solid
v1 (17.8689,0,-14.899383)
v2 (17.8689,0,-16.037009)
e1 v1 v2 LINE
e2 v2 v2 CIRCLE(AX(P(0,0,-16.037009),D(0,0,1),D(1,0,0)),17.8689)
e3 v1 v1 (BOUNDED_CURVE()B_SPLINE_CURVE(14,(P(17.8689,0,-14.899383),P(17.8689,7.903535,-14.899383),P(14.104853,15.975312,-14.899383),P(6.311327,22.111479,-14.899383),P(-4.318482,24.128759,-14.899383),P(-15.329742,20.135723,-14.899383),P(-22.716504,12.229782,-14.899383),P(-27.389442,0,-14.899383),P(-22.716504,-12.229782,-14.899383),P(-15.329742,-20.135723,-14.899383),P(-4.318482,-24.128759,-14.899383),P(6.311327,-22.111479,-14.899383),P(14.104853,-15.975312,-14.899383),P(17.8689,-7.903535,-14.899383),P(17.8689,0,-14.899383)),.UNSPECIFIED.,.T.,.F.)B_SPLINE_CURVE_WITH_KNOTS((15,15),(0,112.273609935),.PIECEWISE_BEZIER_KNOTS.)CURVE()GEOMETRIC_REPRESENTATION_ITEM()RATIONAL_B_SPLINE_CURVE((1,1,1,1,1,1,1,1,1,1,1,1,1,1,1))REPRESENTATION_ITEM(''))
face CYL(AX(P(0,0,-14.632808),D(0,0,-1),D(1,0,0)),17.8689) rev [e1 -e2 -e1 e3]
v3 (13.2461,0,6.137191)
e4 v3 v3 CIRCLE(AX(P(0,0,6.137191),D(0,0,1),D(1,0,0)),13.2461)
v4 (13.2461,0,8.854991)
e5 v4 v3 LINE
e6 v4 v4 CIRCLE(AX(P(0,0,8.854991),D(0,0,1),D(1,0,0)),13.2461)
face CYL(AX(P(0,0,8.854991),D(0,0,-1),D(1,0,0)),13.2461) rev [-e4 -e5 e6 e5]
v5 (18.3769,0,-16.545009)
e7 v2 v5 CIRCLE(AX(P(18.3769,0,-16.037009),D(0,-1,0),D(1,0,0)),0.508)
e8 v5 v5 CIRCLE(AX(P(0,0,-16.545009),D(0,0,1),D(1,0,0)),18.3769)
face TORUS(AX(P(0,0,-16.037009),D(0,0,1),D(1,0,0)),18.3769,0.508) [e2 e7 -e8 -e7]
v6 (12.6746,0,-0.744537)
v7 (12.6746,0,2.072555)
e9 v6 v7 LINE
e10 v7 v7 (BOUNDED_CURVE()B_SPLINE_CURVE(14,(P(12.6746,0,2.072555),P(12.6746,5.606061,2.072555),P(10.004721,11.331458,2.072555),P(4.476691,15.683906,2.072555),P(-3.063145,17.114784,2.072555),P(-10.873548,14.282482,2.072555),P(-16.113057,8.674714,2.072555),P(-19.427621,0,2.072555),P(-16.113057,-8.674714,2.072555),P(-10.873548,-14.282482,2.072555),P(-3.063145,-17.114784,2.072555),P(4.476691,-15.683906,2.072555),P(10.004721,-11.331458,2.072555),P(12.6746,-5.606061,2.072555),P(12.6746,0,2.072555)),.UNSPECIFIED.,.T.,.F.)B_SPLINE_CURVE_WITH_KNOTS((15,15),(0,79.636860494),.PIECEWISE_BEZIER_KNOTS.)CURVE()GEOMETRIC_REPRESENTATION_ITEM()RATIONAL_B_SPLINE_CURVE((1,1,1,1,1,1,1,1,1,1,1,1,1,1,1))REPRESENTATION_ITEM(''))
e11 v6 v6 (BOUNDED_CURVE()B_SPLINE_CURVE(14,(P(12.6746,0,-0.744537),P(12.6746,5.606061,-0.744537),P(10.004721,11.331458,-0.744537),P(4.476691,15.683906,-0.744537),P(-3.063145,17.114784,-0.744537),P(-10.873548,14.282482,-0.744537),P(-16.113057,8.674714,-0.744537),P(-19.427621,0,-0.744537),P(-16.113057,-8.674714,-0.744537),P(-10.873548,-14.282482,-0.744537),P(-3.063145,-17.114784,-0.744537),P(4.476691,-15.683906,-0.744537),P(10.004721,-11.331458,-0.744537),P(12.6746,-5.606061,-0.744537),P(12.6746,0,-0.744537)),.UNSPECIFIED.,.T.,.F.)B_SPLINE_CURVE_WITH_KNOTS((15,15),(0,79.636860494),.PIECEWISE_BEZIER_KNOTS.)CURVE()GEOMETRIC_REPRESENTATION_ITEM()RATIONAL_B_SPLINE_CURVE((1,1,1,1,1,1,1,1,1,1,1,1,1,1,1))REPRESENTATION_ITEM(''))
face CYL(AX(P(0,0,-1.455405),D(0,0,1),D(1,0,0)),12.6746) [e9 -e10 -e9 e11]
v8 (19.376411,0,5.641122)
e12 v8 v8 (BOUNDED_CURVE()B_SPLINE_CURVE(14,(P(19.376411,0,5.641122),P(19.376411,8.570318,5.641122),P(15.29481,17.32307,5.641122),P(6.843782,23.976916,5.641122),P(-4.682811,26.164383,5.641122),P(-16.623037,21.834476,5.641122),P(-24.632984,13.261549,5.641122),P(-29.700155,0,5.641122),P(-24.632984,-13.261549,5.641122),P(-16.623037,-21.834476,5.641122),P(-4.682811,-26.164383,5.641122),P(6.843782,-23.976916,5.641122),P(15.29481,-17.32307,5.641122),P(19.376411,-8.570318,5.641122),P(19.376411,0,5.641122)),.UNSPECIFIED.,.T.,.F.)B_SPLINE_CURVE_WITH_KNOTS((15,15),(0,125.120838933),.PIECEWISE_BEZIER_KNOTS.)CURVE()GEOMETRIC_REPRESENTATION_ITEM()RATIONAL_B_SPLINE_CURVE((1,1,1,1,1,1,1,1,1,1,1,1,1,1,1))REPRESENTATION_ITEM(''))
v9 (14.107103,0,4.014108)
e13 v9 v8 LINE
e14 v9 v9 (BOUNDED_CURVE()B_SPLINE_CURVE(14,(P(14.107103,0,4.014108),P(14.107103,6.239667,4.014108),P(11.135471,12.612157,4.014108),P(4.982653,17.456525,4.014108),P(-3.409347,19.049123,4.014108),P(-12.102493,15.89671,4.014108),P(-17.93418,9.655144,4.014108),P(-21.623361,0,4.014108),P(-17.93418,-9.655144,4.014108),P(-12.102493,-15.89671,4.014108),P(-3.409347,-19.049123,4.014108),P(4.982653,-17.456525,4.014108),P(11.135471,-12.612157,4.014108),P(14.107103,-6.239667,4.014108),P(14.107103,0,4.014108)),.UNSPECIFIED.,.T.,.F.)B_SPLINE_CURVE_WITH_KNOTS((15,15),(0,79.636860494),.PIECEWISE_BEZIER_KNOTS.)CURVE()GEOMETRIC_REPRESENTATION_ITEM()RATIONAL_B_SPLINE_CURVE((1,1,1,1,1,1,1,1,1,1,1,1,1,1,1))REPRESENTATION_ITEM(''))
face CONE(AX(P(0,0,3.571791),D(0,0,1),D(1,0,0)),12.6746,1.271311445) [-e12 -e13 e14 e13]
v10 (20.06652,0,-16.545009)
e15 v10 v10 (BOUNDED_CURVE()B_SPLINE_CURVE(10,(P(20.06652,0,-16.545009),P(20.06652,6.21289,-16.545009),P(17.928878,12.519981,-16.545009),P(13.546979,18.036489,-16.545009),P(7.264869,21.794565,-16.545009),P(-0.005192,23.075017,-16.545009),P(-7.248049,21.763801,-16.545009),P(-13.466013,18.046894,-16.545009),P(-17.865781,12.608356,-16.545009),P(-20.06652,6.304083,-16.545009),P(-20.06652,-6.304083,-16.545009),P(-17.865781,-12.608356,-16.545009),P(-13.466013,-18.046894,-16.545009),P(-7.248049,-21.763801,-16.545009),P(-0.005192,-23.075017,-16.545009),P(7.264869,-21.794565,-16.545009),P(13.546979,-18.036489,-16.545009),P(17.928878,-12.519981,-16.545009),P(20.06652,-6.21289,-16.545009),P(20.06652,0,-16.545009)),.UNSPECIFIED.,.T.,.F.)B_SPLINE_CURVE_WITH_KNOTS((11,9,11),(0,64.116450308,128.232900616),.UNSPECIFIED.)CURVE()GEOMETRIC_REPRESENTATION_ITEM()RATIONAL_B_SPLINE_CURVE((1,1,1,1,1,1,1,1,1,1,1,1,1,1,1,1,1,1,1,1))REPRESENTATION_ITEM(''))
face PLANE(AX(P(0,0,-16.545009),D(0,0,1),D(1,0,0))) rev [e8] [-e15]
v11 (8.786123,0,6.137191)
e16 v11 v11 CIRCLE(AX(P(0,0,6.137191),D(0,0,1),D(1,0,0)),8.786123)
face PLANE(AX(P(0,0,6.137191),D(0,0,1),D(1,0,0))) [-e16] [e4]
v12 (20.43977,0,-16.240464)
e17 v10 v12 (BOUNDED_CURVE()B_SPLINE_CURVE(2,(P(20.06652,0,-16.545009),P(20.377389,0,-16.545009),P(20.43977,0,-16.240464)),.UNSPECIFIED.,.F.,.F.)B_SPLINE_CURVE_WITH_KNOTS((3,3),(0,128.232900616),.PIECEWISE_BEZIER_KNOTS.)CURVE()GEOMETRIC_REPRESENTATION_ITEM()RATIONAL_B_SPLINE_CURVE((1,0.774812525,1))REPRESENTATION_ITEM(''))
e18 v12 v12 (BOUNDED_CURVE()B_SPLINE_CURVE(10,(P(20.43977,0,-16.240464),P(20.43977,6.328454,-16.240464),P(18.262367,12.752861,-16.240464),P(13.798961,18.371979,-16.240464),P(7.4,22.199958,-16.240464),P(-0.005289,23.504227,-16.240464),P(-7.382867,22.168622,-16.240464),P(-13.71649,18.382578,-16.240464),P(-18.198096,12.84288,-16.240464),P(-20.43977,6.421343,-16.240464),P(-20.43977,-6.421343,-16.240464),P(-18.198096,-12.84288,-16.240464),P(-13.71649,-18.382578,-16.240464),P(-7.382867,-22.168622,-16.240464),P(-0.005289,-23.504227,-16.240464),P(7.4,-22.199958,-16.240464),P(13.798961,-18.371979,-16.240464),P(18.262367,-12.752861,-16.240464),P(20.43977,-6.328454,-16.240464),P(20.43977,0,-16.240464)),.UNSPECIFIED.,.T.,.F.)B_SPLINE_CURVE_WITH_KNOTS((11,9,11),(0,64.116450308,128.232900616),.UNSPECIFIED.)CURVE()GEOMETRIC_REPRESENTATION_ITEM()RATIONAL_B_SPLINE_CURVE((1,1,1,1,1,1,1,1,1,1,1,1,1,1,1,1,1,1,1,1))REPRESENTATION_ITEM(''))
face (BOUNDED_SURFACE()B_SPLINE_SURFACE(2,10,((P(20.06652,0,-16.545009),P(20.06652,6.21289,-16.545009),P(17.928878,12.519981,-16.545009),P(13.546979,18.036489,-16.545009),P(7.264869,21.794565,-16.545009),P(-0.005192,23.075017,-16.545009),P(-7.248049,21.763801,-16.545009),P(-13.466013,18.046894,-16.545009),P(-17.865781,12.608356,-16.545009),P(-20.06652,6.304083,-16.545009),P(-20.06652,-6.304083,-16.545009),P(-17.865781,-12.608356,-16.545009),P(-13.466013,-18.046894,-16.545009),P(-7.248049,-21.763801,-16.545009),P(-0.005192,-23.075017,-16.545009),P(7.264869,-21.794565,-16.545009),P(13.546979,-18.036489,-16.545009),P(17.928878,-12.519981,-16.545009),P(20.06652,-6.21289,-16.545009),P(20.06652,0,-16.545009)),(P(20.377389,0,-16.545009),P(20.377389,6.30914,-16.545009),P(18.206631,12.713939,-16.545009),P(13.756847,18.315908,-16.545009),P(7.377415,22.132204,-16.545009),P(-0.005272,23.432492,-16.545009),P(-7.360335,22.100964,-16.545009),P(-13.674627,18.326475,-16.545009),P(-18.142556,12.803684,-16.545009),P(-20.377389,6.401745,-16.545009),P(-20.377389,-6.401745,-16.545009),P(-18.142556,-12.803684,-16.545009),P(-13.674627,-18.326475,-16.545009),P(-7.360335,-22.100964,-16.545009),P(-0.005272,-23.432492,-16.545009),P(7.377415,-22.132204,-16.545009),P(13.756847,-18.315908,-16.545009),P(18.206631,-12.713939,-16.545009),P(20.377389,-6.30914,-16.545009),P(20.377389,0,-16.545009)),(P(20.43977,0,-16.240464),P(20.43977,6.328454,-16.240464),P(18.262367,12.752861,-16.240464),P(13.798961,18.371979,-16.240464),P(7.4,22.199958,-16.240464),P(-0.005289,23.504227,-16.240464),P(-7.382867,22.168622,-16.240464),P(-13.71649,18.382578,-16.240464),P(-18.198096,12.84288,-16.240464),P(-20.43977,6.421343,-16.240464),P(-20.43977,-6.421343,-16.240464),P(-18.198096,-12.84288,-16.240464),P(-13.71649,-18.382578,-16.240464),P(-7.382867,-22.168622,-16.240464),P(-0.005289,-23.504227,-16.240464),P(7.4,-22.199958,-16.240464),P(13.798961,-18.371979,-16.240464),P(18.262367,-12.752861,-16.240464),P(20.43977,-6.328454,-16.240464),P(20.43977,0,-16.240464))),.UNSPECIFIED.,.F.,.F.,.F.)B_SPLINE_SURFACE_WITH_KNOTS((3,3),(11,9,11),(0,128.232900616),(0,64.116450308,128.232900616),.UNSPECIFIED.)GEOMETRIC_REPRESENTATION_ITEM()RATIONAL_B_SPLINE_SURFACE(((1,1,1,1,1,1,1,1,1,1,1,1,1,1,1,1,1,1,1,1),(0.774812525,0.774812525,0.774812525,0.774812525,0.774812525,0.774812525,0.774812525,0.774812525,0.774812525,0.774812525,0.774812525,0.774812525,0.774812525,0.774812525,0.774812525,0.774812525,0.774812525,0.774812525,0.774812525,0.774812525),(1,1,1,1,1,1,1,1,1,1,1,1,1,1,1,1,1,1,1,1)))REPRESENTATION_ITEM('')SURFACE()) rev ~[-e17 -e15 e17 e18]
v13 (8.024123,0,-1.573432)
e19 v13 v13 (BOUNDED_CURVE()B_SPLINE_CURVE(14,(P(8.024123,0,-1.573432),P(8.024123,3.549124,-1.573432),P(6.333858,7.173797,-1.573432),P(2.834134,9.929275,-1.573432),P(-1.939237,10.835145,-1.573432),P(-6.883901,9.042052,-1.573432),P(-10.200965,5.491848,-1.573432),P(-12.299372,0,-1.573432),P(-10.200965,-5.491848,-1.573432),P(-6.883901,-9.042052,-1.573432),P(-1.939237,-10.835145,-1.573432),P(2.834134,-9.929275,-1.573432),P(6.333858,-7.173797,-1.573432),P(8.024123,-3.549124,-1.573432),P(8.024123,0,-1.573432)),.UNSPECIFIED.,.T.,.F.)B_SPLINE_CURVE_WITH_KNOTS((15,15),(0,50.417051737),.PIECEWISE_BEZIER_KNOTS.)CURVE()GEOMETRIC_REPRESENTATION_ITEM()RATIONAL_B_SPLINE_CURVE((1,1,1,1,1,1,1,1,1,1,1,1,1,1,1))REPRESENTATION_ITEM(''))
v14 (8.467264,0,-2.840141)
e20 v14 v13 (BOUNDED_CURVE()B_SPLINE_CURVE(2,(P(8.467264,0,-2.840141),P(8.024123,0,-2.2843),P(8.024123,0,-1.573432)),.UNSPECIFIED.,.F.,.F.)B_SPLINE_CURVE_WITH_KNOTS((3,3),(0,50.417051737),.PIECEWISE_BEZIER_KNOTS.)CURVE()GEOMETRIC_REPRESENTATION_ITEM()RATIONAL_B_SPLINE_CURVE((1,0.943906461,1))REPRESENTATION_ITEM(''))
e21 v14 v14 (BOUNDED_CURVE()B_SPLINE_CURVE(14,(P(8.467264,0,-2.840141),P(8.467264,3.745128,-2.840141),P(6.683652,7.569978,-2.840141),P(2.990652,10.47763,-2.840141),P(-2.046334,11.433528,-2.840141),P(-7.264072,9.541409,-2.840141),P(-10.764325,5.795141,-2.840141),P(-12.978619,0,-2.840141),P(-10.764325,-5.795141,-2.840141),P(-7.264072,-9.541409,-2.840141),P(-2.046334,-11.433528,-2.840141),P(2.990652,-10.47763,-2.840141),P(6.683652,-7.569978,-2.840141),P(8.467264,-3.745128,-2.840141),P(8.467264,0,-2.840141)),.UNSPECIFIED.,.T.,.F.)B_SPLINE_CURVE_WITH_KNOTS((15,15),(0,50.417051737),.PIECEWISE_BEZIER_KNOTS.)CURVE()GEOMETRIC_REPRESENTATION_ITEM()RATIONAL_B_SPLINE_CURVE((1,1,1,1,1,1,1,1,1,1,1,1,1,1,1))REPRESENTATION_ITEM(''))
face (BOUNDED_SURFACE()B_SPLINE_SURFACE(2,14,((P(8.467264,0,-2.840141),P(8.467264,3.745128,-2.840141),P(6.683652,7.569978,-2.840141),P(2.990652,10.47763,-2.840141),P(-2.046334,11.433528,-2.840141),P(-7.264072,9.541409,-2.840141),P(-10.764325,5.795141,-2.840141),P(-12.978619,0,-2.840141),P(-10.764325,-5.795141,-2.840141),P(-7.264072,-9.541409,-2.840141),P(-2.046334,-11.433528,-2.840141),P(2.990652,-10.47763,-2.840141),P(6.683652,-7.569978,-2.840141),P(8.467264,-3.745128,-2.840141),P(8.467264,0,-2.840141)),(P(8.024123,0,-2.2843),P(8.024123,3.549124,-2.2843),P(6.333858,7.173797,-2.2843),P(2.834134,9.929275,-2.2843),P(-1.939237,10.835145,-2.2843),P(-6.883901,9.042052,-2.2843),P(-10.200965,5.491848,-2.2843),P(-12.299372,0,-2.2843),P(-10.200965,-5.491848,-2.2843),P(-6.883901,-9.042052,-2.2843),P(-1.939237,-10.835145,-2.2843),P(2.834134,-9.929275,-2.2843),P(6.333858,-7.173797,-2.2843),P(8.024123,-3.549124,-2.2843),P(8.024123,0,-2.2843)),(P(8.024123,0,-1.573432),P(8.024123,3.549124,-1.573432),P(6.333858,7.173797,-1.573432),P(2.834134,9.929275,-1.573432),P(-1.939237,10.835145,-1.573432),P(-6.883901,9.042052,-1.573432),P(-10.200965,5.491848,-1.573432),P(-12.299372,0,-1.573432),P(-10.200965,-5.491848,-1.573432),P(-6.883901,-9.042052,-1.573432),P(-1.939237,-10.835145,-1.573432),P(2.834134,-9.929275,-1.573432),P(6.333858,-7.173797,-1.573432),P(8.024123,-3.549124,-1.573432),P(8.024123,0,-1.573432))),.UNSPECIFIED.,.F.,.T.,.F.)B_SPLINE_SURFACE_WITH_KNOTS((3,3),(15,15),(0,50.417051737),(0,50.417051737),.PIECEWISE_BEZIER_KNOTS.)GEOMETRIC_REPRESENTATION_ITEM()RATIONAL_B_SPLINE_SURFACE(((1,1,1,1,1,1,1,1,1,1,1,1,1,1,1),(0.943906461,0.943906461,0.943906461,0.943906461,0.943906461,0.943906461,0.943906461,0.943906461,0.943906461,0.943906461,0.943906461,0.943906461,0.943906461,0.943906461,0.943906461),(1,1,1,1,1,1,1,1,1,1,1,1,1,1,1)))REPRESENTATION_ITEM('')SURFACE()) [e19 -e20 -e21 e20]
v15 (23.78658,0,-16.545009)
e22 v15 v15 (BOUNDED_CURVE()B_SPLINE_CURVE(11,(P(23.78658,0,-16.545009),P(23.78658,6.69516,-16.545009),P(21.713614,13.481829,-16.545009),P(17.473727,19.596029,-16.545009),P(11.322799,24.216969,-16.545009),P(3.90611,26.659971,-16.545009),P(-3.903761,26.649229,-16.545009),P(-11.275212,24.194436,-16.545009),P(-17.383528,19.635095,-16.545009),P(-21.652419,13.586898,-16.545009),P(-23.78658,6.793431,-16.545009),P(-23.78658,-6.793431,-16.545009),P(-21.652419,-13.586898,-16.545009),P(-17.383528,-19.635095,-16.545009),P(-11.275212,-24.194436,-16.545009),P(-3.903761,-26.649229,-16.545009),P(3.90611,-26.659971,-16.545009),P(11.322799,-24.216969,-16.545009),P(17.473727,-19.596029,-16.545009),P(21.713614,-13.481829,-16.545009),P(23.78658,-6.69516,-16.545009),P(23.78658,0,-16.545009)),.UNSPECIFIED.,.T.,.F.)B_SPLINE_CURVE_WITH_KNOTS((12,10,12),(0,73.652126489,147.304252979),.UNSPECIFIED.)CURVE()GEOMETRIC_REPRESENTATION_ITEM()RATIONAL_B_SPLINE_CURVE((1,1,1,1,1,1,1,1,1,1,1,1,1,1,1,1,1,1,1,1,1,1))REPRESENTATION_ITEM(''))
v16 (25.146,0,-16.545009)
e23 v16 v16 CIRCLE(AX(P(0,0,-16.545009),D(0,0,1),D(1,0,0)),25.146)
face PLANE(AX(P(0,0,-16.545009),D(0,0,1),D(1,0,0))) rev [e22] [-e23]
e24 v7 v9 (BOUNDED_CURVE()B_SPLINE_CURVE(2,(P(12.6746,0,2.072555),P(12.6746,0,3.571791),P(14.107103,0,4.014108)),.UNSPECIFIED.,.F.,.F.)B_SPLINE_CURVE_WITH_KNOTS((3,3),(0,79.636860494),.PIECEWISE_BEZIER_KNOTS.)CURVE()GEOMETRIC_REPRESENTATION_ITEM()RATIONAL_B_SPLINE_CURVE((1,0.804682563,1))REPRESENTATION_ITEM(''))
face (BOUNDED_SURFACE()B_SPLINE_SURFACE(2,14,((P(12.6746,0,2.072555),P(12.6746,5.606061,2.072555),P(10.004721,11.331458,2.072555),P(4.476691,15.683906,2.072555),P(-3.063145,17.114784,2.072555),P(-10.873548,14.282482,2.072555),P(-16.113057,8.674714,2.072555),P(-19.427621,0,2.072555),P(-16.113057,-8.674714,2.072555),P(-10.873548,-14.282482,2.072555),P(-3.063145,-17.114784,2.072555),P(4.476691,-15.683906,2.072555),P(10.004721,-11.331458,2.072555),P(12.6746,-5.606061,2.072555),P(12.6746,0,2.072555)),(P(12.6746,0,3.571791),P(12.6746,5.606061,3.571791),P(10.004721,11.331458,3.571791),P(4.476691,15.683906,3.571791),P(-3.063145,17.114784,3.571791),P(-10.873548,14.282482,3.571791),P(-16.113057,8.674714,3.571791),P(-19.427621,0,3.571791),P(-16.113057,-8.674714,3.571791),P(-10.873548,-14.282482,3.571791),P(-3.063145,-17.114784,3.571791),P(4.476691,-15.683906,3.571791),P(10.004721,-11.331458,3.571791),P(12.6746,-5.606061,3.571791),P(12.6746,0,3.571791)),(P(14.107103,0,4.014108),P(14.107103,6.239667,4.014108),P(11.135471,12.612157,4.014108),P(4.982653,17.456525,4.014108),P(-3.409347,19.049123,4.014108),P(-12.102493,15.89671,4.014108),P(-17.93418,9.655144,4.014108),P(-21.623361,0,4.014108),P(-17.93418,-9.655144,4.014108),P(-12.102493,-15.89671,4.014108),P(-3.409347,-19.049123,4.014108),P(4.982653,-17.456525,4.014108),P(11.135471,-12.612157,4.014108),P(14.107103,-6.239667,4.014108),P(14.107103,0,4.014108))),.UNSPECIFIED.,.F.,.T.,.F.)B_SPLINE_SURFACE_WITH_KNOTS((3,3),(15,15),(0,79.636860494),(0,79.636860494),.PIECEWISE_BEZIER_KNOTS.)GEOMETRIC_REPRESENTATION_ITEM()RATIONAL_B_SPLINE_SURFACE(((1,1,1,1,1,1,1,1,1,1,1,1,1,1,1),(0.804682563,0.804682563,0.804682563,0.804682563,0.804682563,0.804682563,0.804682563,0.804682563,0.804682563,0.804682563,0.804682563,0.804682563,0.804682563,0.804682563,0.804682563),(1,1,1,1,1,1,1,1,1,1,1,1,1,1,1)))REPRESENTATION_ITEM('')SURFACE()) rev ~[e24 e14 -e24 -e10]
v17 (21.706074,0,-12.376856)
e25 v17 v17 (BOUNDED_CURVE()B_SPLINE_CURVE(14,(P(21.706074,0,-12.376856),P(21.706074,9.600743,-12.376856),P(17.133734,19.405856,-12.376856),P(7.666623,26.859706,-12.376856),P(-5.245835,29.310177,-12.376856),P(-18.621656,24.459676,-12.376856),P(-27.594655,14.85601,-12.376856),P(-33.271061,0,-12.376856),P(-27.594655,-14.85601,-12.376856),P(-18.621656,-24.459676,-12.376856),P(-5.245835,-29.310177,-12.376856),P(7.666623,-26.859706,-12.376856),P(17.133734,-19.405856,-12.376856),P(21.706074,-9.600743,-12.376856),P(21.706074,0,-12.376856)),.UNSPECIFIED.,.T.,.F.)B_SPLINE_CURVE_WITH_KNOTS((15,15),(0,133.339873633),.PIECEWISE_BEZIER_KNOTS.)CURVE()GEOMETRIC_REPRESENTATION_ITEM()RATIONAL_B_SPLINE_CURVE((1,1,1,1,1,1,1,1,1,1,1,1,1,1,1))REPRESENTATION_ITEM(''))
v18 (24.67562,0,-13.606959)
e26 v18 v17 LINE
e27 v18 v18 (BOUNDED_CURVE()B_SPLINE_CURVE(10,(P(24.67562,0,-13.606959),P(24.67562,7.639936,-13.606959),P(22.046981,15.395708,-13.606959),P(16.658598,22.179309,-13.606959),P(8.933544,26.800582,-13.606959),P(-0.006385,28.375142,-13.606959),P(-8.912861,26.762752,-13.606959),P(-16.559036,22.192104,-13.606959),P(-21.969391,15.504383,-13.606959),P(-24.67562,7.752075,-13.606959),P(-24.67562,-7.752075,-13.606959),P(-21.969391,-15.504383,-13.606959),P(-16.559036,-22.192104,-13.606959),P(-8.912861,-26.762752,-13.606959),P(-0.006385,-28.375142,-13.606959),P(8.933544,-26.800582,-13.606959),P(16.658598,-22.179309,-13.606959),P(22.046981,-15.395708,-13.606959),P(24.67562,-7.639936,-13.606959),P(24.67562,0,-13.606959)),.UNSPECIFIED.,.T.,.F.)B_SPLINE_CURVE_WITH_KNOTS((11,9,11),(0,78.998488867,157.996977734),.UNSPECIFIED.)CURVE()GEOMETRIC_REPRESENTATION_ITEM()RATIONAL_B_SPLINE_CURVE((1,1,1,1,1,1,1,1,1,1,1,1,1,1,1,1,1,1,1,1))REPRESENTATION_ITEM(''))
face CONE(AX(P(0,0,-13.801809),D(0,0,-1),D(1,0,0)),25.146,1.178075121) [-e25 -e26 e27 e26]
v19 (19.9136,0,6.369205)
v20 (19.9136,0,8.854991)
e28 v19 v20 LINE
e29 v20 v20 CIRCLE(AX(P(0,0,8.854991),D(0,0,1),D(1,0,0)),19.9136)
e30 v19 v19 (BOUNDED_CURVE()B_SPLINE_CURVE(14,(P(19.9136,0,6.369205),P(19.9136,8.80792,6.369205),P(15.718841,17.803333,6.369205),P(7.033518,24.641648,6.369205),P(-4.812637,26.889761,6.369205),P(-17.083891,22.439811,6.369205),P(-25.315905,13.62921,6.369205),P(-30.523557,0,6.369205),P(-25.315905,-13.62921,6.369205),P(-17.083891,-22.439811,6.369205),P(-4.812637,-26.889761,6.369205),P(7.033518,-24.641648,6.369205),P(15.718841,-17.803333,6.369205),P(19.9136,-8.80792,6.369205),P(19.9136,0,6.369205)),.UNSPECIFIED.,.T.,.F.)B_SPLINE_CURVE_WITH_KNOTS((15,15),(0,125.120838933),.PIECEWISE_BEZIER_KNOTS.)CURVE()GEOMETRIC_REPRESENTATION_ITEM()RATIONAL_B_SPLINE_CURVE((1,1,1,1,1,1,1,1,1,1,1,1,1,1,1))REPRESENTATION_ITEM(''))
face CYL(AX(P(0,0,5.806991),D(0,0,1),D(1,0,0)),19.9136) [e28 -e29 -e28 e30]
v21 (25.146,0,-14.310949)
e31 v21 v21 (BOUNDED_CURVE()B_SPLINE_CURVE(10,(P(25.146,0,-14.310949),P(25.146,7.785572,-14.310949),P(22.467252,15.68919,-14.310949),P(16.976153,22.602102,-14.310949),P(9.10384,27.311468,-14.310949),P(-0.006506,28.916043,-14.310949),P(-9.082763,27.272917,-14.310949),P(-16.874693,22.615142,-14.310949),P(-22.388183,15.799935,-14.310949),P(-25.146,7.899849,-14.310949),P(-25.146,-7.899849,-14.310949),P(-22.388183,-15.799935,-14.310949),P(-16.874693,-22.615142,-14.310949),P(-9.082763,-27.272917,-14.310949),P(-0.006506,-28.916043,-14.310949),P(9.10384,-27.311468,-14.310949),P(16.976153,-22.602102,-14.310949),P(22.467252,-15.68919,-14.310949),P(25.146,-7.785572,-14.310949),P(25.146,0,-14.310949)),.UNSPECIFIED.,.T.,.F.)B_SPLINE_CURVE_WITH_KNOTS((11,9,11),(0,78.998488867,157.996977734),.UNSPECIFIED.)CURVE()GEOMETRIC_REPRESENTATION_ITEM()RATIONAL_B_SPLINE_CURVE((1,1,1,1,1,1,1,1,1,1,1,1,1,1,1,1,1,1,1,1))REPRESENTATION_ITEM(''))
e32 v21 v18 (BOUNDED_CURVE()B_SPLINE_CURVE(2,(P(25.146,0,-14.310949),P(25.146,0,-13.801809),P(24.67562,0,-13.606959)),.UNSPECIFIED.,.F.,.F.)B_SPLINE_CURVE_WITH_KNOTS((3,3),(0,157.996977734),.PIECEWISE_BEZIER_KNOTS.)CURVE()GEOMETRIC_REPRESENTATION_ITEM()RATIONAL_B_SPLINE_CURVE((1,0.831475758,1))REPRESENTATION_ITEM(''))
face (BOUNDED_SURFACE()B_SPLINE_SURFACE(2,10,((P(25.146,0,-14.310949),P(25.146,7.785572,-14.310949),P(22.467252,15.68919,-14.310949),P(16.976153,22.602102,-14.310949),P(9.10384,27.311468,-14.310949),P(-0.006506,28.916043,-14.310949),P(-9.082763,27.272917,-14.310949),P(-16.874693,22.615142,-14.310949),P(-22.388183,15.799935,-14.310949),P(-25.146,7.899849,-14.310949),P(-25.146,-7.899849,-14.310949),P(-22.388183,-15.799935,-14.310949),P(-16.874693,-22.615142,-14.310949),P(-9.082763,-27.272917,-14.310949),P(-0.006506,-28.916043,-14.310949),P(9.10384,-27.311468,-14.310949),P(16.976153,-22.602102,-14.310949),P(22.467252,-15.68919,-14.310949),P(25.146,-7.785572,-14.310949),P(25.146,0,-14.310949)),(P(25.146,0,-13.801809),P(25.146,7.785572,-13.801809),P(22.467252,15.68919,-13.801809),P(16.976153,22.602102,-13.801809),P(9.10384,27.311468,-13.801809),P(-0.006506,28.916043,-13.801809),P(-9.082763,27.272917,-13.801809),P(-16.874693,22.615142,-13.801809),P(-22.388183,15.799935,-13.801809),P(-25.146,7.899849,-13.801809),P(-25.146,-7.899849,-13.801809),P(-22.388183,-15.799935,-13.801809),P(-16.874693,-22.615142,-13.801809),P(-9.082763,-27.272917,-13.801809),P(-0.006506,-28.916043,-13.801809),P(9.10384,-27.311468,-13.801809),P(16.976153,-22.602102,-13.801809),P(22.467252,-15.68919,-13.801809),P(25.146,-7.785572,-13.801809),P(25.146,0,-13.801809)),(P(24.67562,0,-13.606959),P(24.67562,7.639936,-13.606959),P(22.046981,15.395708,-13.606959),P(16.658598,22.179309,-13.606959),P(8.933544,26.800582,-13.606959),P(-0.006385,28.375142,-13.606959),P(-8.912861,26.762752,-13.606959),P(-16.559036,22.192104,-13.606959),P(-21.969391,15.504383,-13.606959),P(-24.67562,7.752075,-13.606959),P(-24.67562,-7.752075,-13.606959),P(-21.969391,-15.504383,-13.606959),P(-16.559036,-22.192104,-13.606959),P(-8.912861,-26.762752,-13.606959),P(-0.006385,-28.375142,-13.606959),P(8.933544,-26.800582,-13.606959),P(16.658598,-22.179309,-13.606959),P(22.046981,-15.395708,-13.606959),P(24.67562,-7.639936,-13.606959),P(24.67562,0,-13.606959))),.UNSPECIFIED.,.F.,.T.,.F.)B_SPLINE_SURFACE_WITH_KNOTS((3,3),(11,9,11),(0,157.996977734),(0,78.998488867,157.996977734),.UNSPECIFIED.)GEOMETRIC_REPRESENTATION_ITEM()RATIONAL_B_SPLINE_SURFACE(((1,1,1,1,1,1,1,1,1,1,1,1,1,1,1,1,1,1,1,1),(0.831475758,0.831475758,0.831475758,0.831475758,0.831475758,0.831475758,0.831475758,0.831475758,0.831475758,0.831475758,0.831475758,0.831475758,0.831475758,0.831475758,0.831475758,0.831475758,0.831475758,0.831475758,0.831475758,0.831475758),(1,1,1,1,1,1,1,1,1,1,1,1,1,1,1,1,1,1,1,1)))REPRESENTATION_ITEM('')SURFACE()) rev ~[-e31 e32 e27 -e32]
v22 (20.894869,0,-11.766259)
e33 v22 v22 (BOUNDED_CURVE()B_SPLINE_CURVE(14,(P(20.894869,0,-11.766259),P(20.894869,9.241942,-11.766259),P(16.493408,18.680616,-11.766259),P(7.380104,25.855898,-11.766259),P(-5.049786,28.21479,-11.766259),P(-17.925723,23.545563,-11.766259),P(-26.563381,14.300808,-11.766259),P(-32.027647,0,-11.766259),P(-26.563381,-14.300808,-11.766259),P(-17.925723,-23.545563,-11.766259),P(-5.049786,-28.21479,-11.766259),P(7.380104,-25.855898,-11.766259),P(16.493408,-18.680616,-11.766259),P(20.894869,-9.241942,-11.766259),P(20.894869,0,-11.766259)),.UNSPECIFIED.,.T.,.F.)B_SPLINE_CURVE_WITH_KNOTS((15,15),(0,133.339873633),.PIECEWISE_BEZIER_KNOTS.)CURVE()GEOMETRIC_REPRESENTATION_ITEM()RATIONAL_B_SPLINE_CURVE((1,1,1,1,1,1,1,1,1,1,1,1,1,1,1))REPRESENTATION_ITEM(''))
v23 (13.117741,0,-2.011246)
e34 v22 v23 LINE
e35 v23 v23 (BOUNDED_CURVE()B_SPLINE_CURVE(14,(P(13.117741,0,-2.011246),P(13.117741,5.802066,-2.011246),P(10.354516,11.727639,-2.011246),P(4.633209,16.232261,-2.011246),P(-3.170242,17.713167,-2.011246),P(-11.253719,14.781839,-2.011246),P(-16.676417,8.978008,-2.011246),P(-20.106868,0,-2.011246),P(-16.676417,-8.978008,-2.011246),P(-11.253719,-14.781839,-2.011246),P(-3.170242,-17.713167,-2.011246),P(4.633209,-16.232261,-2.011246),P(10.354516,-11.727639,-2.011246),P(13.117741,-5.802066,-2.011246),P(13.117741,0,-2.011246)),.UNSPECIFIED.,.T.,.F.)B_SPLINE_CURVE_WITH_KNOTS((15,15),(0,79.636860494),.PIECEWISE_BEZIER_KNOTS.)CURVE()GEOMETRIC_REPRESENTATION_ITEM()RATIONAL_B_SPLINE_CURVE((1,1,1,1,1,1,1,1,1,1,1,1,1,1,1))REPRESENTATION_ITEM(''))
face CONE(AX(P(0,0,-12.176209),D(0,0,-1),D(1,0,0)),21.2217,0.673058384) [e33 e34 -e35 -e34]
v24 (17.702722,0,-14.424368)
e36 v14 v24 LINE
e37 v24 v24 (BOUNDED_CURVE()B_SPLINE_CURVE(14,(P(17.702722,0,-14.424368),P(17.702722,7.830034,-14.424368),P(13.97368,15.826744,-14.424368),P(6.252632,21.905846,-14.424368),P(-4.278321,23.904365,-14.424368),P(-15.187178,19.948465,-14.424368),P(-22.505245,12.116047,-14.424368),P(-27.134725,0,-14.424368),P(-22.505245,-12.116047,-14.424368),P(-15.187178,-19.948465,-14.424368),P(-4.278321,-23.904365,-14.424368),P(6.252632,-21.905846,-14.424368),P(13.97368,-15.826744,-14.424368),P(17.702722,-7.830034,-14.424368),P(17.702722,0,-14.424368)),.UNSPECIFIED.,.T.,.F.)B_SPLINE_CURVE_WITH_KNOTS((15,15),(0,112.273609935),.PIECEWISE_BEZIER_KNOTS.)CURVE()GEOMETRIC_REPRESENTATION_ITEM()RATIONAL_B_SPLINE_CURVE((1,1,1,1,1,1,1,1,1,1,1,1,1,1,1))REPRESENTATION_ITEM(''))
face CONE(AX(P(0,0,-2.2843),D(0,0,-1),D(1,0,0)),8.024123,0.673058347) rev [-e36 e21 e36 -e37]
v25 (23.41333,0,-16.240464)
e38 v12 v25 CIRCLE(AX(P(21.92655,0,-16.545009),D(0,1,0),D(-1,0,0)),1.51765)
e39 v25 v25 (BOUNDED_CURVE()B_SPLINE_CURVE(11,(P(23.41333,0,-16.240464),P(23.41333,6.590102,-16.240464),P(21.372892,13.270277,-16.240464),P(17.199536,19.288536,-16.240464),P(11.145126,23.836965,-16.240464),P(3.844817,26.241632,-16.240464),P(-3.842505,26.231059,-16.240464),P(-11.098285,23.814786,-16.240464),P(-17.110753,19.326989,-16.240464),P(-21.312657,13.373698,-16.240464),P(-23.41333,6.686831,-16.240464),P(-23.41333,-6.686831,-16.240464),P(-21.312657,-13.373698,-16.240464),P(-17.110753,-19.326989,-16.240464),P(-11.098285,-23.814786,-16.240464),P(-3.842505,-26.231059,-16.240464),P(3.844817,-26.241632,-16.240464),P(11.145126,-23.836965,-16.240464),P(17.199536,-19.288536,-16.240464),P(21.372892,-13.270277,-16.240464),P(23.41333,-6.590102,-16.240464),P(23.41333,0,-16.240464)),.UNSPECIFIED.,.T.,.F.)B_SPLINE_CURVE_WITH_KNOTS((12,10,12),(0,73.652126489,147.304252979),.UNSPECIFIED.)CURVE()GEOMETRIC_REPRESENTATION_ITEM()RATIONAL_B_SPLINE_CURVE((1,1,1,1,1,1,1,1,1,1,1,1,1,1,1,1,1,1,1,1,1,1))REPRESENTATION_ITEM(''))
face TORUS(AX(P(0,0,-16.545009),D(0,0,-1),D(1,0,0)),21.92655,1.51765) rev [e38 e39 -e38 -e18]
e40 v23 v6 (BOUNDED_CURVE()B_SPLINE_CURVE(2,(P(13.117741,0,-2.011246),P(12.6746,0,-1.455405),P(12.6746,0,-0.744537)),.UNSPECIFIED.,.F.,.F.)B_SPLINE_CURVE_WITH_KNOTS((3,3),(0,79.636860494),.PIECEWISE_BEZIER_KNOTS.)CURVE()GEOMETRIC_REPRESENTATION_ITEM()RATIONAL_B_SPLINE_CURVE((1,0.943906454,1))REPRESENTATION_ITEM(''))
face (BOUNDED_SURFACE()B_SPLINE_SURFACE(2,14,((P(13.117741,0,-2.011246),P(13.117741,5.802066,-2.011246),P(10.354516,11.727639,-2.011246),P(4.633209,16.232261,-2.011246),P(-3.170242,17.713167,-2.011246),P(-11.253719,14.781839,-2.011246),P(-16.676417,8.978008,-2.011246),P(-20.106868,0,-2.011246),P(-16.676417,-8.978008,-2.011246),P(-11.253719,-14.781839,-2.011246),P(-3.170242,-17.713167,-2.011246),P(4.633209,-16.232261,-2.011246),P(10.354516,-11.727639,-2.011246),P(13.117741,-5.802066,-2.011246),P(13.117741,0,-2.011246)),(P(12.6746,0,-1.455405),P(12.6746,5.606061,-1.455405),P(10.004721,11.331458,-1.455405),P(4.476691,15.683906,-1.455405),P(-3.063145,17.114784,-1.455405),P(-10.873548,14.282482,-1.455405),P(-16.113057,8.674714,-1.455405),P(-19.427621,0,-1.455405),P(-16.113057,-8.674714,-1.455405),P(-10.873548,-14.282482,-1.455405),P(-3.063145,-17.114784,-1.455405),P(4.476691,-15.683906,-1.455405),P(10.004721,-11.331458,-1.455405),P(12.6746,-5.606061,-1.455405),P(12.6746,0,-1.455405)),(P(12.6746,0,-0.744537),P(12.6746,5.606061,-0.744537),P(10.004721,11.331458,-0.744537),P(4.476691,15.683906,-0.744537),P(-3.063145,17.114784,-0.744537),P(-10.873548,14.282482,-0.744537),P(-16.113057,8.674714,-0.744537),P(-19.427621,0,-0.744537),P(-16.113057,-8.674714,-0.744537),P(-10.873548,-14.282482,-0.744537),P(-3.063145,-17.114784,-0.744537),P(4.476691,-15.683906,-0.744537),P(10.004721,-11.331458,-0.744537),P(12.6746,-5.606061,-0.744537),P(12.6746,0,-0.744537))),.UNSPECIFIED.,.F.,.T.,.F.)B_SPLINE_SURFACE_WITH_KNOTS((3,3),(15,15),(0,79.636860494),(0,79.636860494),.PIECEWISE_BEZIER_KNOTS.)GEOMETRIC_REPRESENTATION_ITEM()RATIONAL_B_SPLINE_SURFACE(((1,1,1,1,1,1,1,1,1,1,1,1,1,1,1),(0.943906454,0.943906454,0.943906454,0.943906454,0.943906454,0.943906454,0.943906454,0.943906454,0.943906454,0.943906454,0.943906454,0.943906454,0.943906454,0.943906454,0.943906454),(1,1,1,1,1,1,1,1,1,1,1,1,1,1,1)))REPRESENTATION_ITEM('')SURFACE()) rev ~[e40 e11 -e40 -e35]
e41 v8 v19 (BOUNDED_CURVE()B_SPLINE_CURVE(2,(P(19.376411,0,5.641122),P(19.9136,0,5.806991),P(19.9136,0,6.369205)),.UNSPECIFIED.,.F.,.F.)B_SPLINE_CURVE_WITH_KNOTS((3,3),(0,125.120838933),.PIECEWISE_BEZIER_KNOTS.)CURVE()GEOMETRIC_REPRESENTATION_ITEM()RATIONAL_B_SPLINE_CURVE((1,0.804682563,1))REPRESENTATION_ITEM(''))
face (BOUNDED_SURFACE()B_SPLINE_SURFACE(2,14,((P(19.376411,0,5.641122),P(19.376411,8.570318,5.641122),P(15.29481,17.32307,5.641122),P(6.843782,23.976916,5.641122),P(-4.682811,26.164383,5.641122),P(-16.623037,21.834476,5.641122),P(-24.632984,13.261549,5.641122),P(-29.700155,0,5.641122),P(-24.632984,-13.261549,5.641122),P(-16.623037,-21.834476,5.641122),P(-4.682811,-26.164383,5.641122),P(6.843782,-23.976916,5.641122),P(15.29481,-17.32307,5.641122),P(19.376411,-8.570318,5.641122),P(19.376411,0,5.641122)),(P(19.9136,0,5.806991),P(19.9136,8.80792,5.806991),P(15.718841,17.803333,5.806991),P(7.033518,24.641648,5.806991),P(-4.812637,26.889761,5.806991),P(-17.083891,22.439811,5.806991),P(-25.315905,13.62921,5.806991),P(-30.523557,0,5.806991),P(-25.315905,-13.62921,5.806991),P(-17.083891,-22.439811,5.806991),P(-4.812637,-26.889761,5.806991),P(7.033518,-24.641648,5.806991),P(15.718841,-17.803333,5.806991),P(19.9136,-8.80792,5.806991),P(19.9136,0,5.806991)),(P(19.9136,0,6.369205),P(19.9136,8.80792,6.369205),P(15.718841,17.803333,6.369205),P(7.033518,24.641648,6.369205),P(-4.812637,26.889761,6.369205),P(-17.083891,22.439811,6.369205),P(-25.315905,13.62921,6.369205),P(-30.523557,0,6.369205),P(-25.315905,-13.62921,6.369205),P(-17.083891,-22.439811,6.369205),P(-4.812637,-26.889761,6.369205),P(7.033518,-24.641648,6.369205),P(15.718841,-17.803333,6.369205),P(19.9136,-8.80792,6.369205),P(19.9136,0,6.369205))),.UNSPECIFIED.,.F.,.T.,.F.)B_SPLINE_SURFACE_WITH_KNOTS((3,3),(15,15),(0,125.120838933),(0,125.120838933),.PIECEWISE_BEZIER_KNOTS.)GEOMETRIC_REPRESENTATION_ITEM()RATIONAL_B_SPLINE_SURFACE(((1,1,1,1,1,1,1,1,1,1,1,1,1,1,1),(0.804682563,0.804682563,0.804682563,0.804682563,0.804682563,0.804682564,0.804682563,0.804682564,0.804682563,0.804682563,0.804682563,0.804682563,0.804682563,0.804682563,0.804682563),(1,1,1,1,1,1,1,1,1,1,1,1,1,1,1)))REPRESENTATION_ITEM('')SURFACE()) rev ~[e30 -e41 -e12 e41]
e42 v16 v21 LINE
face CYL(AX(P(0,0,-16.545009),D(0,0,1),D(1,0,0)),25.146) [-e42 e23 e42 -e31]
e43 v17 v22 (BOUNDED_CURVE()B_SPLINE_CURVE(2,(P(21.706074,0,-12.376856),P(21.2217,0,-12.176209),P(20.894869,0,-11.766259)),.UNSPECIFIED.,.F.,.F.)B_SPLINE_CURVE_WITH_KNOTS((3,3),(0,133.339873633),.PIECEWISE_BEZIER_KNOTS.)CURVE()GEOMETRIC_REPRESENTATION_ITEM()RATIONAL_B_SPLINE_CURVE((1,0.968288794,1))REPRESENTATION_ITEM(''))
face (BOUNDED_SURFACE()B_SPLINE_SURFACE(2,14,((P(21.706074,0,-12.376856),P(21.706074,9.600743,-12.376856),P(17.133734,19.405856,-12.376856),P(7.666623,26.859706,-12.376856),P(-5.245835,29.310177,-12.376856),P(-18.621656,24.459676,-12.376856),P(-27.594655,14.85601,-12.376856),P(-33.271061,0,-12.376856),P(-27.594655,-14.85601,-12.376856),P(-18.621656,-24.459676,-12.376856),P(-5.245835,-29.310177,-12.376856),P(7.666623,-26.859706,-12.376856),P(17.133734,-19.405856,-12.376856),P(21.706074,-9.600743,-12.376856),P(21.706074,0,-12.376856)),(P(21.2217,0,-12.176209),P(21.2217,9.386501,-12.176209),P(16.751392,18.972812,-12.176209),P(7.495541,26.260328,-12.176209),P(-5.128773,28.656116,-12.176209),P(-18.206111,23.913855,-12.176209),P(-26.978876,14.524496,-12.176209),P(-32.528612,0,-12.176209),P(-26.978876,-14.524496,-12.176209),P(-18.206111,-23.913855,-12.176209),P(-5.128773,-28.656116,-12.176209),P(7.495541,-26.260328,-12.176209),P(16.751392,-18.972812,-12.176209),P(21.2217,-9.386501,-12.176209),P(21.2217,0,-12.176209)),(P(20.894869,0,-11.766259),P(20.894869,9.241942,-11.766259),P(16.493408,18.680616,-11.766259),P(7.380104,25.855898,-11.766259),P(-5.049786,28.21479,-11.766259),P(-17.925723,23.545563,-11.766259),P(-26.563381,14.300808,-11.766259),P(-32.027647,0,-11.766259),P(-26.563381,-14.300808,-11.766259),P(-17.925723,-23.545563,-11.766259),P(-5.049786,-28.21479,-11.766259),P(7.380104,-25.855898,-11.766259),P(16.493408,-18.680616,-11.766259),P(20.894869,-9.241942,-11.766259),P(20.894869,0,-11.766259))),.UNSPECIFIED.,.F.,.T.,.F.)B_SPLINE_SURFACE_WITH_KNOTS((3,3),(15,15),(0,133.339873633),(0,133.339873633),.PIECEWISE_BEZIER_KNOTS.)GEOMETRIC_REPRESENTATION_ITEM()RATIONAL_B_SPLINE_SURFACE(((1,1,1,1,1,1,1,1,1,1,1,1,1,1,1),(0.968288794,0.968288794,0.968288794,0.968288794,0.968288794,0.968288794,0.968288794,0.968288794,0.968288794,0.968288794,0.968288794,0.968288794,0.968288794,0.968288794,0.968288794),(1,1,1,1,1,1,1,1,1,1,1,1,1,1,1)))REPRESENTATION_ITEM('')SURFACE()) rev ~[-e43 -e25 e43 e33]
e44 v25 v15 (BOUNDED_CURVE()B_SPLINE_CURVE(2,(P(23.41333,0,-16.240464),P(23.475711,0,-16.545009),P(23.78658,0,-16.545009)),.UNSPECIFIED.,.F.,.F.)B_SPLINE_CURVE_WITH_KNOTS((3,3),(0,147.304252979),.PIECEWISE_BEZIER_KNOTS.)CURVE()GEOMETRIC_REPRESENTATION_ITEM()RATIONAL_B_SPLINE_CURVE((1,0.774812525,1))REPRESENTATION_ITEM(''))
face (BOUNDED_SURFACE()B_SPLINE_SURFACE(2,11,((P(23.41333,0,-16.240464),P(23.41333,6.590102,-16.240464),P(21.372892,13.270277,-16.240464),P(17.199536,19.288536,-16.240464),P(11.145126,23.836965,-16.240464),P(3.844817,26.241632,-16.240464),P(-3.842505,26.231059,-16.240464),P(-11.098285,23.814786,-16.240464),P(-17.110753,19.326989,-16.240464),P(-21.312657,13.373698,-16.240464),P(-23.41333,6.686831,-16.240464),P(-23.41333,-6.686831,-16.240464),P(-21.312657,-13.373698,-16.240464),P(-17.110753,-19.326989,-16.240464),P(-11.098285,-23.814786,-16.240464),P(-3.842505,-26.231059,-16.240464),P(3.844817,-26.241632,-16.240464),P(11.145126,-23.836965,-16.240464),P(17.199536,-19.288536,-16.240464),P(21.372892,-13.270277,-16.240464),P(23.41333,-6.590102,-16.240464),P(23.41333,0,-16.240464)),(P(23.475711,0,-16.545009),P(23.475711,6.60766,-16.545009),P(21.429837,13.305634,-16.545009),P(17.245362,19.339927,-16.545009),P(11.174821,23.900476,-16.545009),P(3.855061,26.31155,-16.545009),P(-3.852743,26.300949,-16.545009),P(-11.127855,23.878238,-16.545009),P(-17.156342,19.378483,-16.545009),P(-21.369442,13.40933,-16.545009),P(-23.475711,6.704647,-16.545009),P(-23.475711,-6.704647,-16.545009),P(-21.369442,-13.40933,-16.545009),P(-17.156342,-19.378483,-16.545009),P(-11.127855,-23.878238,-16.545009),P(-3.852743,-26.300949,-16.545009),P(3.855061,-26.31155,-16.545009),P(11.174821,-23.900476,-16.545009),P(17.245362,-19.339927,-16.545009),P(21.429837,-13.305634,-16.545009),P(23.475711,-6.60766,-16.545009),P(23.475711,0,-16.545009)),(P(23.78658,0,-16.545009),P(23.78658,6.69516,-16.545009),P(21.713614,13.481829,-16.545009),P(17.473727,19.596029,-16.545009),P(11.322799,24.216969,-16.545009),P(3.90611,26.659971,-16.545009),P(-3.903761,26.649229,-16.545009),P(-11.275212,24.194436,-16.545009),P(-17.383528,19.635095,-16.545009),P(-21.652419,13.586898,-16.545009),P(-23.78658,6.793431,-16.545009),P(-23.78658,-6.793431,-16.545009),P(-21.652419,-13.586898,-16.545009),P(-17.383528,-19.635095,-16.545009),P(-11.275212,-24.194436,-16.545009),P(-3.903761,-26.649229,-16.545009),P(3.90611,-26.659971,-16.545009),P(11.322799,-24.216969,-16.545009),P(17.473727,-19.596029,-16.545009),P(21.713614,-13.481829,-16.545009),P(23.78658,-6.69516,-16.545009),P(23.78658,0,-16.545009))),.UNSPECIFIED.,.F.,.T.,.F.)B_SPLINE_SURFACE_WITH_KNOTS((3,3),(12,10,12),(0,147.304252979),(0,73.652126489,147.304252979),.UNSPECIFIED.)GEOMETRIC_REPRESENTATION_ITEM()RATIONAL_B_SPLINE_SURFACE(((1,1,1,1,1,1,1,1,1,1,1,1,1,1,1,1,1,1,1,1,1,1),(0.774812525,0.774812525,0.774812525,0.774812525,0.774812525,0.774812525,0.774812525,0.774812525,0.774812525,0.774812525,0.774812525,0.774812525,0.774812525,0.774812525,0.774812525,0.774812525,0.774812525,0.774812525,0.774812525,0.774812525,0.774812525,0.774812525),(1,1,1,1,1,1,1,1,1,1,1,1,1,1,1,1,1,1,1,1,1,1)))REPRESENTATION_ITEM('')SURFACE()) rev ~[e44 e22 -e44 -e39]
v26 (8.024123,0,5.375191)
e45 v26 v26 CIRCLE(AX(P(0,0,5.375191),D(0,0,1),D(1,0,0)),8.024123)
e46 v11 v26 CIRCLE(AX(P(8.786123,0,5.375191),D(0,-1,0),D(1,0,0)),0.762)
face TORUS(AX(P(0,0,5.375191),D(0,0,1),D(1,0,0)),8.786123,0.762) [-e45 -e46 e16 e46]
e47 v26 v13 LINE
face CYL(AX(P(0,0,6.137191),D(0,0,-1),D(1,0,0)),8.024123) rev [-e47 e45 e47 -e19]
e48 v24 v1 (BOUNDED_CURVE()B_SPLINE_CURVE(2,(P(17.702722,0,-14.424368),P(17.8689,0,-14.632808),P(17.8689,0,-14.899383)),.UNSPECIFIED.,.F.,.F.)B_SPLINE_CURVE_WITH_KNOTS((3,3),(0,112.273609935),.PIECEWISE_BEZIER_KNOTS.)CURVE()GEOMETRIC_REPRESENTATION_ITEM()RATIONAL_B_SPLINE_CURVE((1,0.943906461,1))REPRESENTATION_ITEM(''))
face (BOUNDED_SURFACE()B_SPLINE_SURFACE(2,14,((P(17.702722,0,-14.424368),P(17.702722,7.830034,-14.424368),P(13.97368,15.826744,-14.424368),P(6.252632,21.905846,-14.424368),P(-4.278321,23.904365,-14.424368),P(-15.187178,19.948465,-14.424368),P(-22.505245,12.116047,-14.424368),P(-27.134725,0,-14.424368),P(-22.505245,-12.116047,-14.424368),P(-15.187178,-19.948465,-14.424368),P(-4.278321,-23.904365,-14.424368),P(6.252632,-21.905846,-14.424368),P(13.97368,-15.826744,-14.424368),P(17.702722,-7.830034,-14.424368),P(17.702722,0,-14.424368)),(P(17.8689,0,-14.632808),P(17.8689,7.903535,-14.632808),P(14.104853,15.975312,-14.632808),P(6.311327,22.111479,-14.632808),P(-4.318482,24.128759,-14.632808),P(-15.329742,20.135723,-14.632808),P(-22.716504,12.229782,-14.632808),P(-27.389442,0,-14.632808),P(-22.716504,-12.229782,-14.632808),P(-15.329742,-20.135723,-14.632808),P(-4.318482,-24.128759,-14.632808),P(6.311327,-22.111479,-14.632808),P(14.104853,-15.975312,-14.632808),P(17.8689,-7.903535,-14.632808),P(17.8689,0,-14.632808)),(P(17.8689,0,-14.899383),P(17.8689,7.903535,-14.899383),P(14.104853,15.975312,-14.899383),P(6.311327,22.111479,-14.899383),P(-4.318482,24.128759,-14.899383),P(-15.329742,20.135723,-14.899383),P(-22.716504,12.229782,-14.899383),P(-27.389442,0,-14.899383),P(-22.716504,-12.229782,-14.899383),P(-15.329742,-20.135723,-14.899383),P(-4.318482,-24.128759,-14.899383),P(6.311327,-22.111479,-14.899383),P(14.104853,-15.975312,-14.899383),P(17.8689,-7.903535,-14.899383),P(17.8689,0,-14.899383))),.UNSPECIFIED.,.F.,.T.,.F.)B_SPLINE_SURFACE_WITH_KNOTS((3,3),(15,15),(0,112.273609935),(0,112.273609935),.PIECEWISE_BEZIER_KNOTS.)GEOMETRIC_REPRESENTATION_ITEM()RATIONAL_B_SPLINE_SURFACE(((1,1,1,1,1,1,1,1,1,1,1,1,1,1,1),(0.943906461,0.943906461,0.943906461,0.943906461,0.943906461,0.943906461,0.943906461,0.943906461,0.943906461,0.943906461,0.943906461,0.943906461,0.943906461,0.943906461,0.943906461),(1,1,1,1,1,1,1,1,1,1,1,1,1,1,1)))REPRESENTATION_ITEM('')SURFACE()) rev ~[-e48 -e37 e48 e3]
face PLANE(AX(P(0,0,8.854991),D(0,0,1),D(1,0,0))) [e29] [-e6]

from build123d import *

# Parameters (mm, degrees)
F2_R = 0.762
F3_R = 0.508
F4_R = 2.032
F5_R = 0.381


with BuildPart() as f1:
    # F0 (on Front) → F1 (revolve)
    with BuildSketch(Plane.XZ):
        with BuildLine():
            Line((13.2461, 8.854991), (13.2461, 6.137191))
            Line((13.2461, 6.137191), (8.024123, 6.137191))
            Line((8.024123, 6.137191), (8.024123, -1.455405))
            Line((8.024123, -1.455405), (8.024123, -2.2843))
            Line((8.024123, -2.2843), (17.8689, -14.632808))
            Line((17.8689, -14.632808), (17.8689, -16.545009))
            Line((17.8689, -16.545009), (20.4089, -16.545009))
            ThreePointArc((20.4089, -16.545009), (21.92655, -15.027359), (23.4442, -16.545009))
            Line((23.4442, -16.545009), (25.146, -16.545009))
            Line((25.146, -16.545009), (25.146, -13.801809))
            Line((25.146, -13.801809), (21.2217, -12.176209))
            Line((21.2217, -12.176209), (12.6746, -1.455405))
            Line((12.6746, -1.455405), (12.6746, 3.571791))
            Line((12.6746, 3.571791), (19.9136, 5.806991))
            Line((19.9136, 5.806991), (19.9136, 8.854991))
            Line((19.9136, 8.854991), (13.2461, 8.854991))
        make_face()
    revolve(axis=Axis((0, 0, 17.989578), (0, 0, 1)))

    # F2
    f2_edges = [f1.edges().sort_by_distance(p)[0] for p in [
        (-25.146, 0, -13.801809),
        (-19.9136, 0, 5.806991),
        (-8.024123, 0, 6.137191),
        (-17.8689, 0, -14.632808),
    ]]
    fillet(f2_edges, radius=F2_R)

    # F3
    f3_edges = [f1.edges().sort_by_distance(p)[0] for p in [
        (-17.8689, 0, -16.545009),
    ]]
    fillet(f3_edges, radius=F3_R)

    # F4
    f4_edges = [f1.edges().sort_by_distance(p)[0] for p in [
        (-12.6746, 0, -1.455405),
        (-12.6746, 0, 3.571791),
        (-21.2217, 0, -12.176209),
        (-8.024123, 0, -2.2843),
    ]]
    fillet(f4_edges, radius=F4_R)

    # F5
    f5_edges = [f1.edges().sort_by_distance(p)[0] for p in [
        (-23.4442, 0, -16.545009),
        (-20.4089, 0, -16.545009),
    ]]
    fillet(f5_edges, radius=F5_R)


solid = f1.part
